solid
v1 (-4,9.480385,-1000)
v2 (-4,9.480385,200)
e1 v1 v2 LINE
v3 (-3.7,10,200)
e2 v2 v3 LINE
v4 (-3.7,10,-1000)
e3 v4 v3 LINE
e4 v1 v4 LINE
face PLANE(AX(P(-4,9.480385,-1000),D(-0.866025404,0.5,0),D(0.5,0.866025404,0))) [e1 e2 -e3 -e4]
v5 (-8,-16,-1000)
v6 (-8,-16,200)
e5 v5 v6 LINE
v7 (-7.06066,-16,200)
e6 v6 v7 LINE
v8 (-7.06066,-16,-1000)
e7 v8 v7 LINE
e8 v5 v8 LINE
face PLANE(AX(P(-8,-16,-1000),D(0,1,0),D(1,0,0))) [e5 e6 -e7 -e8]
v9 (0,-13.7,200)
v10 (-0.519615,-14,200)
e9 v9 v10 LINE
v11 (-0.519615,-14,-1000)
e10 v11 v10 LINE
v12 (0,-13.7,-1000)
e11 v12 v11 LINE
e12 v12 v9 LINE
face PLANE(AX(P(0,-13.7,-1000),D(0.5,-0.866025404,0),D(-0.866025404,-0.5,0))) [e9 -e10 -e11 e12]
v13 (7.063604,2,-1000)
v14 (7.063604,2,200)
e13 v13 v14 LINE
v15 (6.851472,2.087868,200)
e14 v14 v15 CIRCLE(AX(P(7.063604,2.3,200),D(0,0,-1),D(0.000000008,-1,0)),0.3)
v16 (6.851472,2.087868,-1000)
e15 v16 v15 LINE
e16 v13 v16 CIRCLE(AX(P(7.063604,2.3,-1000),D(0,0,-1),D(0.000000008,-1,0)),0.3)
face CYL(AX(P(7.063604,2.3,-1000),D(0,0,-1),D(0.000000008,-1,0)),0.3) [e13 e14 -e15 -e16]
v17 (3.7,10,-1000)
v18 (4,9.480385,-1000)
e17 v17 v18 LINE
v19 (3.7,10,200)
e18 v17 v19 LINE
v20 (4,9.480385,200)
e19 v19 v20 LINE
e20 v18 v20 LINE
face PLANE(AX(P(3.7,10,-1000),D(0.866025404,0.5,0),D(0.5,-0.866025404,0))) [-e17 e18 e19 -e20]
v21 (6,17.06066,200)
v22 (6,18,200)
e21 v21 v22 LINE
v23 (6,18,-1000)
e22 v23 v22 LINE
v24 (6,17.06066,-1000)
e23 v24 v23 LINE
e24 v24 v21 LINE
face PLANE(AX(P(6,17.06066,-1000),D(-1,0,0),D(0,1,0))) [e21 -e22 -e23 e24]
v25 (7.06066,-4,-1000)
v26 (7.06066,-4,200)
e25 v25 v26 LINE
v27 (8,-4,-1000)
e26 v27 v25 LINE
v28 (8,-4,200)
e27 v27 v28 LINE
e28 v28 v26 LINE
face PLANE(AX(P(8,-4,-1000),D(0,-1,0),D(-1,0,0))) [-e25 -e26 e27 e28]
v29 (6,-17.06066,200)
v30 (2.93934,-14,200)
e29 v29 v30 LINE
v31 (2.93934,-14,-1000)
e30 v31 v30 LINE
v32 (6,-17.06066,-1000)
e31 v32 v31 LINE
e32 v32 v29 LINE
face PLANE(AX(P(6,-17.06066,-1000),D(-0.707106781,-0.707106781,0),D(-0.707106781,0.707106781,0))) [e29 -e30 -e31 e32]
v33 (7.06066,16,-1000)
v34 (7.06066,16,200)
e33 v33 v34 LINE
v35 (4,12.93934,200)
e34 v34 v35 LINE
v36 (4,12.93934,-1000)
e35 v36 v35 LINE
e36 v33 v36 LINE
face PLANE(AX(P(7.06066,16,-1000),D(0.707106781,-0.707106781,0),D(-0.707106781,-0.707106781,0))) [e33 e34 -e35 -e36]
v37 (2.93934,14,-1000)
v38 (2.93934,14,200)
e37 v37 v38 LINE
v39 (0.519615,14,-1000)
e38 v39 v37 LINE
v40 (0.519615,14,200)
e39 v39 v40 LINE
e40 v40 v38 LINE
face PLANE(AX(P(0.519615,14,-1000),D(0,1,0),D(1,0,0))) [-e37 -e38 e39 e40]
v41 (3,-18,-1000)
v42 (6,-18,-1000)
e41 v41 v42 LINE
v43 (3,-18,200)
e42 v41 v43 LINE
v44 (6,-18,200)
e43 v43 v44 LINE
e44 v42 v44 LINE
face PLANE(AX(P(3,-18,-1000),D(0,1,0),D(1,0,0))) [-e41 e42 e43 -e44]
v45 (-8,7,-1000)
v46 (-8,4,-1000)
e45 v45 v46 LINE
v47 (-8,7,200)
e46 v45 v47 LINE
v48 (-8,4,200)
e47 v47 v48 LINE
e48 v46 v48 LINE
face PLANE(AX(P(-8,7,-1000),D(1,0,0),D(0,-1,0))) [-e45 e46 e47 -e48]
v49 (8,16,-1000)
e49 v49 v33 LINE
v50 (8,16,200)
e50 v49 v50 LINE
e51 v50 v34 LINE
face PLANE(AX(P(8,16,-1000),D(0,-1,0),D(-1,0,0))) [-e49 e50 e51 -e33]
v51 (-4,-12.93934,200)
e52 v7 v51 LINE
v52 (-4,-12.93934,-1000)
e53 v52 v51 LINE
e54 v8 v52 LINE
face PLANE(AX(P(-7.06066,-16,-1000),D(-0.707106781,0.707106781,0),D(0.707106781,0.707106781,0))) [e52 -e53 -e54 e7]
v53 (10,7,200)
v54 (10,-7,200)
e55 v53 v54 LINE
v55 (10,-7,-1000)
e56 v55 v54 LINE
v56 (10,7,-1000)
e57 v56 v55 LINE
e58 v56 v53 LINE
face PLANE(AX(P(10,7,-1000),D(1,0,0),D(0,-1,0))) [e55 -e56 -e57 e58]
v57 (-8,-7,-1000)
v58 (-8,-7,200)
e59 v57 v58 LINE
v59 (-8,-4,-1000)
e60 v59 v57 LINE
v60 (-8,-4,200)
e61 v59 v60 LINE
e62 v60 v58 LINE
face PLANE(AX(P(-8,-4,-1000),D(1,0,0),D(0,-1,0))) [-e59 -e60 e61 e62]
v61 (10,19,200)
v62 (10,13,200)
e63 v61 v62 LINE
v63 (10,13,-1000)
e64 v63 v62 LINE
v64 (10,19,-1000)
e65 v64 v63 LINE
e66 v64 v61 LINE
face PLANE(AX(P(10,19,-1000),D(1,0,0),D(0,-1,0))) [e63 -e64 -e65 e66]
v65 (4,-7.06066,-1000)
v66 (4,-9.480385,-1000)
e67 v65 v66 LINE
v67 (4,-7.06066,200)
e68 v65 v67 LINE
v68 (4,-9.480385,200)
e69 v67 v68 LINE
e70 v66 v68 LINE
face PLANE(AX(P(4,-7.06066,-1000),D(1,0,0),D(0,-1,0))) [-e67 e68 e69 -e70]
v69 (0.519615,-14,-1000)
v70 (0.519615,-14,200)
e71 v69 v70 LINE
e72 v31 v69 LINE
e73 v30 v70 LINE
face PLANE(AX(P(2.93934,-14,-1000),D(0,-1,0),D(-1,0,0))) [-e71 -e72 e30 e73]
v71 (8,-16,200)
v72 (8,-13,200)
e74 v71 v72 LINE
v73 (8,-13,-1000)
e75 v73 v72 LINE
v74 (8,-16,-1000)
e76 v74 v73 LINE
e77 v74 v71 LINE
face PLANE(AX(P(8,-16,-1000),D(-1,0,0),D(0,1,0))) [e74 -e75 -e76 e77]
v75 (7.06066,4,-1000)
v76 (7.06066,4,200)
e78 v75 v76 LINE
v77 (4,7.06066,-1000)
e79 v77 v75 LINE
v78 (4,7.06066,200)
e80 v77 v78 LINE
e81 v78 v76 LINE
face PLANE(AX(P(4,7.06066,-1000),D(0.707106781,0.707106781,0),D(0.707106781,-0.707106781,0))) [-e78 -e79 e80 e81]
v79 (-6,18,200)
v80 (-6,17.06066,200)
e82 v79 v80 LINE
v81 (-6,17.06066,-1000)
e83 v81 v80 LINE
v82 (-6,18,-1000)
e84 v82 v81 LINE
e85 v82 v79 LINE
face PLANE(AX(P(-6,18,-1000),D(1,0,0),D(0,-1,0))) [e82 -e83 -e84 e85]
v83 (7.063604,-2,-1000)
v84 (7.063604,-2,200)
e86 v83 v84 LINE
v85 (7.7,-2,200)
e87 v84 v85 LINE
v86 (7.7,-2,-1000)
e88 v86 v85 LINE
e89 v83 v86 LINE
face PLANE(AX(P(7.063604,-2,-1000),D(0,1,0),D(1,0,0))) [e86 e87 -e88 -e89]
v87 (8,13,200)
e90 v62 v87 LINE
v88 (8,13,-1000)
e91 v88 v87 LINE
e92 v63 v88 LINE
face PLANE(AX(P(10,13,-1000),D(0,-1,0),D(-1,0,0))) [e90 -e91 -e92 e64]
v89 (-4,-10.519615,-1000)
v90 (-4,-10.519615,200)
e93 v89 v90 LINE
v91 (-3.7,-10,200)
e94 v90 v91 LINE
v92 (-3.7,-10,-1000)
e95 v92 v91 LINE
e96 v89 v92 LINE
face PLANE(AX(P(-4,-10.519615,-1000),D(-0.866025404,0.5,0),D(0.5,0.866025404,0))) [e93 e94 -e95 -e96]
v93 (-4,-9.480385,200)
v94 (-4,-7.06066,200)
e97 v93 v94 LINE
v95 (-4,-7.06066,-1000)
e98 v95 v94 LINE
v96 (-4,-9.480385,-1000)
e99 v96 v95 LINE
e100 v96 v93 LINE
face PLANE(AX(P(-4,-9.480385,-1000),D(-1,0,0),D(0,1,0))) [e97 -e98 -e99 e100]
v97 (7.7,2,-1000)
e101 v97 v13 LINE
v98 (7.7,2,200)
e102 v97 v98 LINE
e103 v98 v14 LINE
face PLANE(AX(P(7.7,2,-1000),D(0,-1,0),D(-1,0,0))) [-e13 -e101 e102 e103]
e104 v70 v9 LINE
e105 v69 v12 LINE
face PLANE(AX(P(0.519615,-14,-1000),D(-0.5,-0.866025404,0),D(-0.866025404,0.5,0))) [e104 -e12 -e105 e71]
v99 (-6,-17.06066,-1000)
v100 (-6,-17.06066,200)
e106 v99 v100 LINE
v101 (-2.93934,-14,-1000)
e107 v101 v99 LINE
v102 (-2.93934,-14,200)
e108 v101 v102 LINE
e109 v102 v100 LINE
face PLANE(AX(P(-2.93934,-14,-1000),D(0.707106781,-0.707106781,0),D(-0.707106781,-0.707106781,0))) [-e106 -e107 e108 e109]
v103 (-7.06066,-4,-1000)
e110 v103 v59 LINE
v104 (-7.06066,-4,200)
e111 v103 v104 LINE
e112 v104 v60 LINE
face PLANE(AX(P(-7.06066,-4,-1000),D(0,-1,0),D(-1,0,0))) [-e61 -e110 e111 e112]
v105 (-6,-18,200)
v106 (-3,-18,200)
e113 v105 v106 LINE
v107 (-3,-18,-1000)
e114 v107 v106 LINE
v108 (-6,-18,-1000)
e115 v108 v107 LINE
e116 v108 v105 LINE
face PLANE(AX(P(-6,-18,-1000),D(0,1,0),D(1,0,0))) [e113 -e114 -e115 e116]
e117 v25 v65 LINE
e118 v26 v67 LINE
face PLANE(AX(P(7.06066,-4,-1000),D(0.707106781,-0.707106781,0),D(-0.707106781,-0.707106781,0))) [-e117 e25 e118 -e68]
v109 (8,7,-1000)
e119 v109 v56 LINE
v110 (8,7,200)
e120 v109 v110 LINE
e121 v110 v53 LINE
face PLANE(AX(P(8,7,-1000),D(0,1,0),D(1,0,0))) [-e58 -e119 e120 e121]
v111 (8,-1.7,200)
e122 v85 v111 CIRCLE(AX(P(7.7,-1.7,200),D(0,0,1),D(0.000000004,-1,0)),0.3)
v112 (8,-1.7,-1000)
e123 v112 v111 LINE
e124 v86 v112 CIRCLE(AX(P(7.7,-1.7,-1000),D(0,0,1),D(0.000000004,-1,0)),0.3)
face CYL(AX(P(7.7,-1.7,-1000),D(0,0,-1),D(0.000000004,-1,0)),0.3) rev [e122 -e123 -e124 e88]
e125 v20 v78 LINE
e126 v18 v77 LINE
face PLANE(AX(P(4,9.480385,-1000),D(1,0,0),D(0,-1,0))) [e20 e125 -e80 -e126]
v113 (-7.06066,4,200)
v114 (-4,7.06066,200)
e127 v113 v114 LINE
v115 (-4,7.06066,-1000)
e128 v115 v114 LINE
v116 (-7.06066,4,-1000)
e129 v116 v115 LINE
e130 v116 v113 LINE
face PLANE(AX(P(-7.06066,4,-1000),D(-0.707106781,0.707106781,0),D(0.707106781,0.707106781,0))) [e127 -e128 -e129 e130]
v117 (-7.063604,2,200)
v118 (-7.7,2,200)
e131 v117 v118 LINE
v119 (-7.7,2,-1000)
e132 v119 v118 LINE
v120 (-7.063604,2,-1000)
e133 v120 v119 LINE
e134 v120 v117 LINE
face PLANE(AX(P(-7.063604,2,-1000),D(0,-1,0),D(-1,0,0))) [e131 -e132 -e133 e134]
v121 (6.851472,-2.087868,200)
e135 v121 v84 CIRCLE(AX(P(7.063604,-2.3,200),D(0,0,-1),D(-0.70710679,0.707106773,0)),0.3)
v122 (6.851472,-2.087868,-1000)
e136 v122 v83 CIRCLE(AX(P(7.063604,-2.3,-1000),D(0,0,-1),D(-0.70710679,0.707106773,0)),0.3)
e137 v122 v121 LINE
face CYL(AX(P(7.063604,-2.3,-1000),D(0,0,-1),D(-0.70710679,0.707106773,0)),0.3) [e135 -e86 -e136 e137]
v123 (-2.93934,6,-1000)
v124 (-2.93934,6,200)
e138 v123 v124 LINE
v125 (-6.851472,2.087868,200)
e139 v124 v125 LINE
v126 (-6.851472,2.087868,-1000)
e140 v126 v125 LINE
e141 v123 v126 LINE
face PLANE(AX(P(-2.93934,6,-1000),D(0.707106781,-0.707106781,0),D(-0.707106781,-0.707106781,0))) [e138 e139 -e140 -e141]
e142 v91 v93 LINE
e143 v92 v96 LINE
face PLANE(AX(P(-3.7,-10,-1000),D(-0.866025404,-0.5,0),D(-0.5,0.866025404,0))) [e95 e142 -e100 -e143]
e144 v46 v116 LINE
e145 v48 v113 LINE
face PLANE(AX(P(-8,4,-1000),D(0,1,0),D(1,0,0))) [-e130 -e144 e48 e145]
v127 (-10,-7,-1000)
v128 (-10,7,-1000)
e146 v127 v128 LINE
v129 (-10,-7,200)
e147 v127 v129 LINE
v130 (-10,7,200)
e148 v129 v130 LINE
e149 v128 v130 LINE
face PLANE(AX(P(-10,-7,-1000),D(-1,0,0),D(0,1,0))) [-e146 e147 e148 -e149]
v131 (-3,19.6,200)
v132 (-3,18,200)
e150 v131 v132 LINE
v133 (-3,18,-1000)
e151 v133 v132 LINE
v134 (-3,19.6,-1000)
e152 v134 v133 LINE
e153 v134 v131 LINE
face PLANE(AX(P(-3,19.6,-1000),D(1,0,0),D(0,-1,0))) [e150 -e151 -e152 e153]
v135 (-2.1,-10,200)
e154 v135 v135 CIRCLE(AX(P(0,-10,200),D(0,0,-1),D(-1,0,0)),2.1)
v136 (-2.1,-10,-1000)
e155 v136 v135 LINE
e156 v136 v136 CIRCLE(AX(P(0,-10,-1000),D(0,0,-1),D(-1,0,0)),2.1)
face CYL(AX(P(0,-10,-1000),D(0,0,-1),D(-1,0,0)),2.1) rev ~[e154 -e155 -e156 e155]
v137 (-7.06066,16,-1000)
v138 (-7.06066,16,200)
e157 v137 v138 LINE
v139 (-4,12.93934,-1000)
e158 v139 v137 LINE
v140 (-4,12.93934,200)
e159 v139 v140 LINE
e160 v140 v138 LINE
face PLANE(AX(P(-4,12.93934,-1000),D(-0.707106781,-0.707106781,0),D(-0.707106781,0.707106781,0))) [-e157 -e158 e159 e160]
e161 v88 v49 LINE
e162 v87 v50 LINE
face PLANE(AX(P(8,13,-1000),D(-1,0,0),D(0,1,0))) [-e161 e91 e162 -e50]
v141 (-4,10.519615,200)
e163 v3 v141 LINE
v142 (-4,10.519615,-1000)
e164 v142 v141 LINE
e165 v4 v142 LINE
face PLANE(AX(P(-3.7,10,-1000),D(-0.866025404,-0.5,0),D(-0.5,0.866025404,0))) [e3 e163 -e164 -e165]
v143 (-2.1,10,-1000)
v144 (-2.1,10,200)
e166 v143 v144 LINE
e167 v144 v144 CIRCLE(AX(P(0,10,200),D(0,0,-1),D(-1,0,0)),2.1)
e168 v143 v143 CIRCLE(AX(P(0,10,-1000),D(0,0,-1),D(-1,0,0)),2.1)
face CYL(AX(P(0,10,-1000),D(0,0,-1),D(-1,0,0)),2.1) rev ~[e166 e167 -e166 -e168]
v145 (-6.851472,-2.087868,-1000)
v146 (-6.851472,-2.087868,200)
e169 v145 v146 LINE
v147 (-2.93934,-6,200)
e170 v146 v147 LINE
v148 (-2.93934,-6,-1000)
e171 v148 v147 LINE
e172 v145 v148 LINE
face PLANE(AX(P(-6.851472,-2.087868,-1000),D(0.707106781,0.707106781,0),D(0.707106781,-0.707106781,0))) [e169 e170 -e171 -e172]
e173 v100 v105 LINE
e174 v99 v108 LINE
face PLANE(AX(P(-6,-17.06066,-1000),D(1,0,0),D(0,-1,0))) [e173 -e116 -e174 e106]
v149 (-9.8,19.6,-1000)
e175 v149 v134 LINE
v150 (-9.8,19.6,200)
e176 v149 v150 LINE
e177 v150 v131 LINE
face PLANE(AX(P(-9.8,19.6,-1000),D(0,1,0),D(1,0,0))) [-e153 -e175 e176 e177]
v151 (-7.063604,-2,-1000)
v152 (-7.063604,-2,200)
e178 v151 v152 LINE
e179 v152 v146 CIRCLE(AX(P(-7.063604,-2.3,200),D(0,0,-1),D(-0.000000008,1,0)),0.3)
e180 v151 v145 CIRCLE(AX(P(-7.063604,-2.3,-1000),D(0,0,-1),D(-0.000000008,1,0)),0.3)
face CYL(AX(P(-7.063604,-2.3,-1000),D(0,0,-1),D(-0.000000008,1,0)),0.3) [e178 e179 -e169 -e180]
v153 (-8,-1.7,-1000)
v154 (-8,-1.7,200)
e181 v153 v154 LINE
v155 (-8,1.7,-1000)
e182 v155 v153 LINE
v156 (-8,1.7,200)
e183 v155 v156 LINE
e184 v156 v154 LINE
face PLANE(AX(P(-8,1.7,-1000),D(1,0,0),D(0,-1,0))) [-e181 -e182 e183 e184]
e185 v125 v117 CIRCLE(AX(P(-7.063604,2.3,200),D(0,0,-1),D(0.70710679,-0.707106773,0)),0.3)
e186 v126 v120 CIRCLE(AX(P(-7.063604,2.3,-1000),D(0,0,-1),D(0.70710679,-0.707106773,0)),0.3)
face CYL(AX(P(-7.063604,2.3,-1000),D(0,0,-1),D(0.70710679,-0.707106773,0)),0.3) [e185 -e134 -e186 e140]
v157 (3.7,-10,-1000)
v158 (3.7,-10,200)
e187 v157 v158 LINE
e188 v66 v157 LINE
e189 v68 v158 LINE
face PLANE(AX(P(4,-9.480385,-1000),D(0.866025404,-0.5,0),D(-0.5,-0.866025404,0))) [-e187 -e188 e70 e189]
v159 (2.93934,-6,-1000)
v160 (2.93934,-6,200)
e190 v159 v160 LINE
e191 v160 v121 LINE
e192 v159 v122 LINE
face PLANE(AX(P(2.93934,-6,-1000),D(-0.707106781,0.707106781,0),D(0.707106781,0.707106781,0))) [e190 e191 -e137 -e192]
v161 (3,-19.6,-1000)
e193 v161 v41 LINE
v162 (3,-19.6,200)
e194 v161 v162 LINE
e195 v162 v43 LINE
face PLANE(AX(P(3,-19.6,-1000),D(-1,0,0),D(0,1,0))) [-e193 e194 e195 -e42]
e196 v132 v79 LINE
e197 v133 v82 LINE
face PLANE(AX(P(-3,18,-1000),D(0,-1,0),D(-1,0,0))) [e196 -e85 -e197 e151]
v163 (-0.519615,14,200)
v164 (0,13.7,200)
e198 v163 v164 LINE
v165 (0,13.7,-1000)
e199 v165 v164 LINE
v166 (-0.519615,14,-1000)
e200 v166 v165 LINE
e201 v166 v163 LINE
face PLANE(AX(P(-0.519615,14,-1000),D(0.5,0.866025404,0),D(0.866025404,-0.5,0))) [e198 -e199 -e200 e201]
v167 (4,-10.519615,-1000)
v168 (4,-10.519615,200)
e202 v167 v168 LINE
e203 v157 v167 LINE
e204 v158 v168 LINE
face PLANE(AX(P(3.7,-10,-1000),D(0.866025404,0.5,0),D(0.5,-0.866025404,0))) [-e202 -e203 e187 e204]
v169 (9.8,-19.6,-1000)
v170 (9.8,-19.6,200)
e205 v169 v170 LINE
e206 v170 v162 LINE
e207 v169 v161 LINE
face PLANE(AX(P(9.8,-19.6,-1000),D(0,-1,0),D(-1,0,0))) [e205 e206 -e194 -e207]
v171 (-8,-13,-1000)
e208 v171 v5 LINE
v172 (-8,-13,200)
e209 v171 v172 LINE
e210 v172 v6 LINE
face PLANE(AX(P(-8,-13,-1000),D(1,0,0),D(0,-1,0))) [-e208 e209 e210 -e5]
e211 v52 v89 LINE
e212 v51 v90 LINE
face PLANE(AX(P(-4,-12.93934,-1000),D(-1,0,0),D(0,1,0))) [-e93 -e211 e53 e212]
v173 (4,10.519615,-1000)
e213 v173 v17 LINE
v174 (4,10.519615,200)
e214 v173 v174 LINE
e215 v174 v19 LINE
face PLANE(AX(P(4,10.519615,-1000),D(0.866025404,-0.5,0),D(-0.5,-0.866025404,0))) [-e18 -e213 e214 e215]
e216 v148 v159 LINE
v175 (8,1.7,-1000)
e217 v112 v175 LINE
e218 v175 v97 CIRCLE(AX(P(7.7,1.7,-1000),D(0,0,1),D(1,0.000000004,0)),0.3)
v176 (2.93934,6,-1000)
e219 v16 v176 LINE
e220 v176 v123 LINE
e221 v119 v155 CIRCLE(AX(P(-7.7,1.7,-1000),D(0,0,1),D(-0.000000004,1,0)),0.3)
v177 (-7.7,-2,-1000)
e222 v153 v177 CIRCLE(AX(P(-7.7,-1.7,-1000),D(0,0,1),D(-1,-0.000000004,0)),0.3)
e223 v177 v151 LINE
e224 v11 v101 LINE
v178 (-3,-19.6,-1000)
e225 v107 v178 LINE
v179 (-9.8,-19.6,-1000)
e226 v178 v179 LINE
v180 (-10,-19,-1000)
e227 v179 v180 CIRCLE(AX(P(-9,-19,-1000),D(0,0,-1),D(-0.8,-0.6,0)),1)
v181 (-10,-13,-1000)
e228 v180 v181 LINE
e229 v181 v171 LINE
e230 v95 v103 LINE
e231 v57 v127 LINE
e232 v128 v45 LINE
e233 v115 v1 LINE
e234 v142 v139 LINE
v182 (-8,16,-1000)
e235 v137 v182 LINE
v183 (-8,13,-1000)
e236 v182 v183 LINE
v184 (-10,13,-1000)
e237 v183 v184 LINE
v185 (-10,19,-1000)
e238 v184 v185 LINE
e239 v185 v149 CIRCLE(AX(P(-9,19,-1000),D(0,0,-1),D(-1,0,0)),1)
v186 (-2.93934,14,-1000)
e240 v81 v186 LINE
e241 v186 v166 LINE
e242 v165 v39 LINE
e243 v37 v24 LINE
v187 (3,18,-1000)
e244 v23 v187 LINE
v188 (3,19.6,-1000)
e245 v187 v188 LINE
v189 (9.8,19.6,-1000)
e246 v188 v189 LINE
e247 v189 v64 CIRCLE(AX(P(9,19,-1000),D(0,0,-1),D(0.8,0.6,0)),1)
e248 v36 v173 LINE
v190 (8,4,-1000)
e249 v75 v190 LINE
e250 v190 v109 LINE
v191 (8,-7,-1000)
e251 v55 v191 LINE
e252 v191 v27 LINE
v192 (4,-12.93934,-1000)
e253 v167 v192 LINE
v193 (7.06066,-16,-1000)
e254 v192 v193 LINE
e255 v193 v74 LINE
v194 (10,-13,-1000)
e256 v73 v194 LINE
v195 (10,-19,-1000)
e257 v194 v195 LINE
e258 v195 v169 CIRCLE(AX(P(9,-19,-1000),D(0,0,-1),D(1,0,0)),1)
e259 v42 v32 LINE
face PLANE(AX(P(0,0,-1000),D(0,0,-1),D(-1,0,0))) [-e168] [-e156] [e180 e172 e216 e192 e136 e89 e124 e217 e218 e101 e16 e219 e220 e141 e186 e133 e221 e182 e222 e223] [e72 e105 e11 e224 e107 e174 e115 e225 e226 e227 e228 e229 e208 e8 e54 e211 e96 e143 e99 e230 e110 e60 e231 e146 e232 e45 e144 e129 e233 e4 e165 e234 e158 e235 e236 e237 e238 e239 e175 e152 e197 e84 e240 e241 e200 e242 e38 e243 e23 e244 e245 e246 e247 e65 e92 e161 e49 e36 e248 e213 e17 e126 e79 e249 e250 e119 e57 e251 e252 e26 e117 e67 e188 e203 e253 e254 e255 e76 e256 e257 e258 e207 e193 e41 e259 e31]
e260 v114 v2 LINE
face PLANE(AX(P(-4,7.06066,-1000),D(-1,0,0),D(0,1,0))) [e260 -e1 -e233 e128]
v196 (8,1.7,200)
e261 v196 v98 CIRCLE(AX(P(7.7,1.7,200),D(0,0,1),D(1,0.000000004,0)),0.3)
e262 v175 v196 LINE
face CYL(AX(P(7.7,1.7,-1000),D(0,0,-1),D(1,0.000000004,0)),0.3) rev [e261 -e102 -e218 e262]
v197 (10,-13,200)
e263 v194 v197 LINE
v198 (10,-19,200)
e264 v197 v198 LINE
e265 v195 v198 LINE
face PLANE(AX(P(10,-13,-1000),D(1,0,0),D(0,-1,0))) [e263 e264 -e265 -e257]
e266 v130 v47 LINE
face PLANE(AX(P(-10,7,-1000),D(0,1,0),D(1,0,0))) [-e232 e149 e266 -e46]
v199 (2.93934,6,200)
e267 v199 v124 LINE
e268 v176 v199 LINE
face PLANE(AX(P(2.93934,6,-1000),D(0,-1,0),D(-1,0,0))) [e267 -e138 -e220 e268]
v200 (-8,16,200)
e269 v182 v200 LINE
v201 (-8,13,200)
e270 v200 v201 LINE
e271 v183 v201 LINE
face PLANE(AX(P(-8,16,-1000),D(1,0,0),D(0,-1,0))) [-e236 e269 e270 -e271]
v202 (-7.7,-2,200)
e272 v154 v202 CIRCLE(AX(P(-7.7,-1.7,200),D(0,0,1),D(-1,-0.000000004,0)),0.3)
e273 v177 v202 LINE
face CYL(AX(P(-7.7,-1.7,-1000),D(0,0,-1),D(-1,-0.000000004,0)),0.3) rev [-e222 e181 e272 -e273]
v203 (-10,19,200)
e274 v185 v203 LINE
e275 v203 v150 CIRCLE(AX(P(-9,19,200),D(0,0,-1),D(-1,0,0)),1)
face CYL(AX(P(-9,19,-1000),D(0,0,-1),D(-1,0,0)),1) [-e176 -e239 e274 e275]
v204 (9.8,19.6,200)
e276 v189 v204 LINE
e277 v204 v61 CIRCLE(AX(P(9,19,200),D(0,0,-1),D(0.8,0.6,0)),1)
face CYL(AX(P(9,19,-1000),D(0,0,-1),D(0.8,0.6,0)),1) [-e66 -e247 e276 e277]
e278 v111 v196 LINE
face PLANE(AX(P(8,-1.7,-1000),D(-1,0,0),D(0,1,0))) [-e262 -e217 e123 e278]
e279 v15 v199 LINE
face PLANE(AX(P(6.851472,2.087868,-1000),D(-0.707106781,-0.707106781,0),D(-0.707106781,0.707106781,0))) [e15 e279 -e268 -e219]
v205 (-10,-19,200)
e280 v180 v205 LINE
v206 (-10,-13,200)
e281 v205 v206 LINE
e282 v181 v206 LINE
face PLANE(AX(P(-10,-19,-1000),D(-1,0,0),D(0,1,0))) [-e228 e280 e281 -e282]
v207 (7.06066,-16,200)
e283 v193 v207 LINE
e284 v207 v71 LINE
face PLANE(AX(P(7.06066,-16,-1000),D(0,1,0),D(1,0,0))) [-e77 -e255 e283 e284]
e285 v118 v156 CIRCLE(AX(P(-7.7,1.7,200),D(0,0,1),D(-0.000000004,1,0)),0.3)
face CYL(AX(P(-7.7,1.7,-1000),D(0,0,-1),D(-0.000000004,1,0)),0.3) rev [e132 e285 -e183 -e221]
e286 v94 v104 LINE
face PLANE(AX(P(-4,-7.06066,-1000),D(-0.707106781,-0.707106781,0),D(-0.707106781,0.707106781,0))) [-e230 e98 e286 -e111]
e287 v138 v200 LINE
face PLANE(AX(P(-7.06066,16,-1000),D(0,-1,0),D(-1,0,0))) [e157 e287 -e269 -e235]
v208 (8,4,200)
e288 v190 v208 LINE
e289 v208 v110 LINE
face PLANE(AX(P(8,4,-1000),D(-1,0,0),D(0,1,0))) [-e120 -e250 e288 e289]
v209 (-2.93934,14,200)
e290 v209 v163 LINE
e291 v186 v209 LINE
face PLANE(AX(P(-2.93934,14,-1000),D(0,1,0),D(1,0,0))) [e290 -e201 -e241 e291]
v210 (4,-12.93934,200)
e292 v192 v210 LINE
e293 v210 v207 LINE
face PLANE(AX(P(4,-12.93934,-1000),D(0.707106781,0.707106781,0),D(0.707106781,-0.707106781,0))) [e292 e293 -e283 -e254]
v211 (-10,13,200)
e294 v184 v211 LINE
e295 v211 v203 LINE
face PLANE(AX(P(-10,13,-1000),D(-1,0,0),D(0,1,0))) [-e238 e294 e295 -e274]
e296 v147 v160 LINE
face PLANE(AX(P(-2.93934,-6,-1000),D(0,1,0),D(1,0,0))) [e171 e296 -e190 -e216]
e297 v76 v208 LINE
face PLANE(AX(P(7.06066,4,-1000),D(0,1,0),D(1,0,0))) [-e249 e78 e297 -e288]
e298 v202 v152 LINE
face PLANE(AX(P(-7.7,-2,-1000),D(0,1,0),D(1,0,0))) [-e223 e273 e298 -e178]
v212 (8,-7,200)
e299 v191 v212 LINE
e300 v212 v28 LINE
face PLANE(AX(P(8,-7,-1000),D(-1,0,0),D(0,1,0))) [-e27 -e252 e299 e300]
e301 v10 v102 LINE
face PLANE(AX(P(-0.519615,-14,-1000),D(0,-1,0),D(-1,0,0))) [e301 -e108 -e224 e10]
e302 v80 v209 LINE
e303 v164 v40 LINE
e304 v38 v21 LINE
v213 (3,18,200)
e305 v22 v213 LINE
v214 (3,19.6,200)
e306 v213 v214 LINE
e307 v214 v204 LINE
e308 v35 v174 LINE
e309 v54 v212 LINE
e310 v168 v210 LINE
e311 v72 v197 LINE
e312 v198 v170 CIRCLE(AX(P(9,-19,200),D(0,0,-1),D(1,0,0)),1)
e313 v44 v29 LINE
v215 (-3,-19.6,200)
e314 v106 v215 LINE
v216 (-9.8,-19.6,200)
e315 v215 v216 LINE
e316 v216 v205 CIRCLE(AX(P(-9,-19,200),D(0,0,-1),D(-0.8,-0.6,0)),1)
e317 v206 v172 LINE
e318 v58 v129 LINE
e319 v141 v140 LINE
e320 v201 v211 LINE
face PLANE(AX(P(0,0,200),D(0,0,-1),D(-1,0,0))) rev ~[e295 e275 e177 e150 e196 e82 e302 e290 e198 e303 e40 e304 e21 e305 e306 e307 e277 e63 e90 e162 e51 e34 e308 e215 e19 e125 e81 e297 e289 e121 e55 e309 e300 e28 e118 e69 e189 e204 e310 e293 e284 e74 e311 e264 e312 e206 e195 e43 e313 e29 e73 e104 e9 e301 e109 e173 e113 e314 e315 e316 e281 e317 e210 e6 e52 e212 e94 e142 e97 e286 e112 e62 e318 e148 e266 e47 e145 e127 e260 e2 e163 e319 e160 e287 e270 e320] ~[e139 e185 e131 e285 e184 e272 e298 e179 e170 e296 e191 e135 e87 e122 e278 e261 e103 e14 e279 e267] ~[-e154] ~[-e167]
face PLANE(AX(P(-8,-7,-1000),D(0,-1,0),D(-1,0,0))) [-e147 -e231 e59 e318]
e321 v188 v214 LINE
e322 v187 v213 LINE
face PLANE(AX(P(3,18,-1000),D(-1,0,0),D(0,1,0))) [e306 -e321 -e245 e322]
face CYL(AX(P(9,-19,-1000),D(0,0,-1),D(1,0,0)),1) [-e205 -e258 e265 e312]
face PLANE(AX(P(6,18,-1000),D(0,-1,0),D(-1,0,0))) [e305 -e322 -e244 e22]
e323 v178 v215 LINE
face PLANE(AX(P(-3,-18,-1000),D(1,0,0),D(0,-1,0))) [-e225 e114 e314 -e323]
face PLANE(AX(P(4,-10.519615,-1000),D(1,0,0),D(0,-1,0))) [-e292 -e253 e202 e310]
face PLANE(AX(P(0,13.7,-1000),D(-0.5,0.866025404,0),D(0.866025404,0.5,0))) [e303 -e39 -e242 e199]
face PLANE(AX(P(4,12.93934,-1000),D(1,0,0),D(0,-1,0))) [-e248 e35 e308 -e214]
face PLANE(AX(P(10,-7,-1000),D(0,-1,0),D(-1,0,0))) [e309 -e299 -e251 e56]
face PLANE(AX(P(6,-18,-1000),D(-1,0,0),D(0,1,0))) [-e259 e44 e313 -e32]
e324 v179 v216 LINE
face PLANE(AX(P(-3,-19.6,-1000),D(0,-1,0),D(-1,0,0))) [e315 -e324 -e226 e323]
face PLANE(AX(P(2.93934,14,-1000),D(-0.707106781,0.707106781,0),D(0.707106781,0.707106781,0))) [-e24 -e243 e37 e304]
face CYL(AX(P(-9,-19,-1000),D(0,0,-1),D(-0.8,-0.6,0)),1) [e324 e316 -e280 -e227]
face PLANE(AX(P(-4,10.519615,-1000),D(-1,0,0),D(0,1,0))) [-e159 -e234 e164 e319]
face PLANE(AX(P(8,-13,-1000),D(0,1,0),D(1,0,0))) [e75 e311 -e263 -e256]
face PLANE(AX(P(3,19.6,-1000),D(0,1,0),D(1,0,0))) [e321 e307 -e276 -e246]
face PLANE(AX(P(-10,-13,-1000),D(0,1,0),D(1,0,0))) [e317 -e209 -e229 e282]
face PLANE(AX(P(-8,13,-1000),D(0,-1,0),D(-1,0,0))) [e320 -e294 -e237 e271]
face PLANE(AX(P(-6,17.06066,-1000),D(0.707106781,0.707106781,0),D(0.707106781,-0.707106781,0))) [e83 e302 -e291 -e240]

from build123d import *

# Parameters (mm, degrees)
SKETCH1_R           = 2.1
BOSS_EXTRUDE1_DEPTH = 1200


with BuildPart() as part:
    # Sketch1 → Boss-Extrude1 (new body)
    with BuildSketch(Plane(origin=(0, 0, -1000), x_dir=(-1, 0, 0), z_dir=(0, 0, -1))):
        with BuildLine():
            Line((10, -7), (10, 7))
            Line((10, 7), (8, 7))
            Line((8, 7), (8, 4))
            Line((8, 4), (7.060660172, 4))
            Line((7.060660172, 4), (4, 7.060660172))
            Line((4, 7.060660172), (4, 9.480384758))
            Line((4, 9.480384758), (3.7, 10))
            Line((3.7, 10), (4, 10.519615242))
            Line((4, 10.519615242), (4, 12.939339828))
            Line((4, 12.939339828), (7.060660172, 16))
            Line((7.060660172, 16), (8, 16))
            Line((8, 16), (8, 13))
            Line((8, 13), (10, 13))
            Line((10, 13), (10, 19))
            ThreePointArc((10, 19), (9.948683298, 19.316227766), (9.8, 19.6))
            Line((9.8, 19.6), (3, 19.6))
            Line((3, 19.6), (3, 18))
            Line((3, 18), (6, 18))
            Line((6, 18), (6, 17.060660172))
            Line((6, 17.060660172), (2.939339828, 14))
            Line((2.939339828, 14), (0.519615242, 14))
            Line((0.519615242, 14), (0, 13.7))
            Line((0, 13.7), (-0.519615242, 14))
            Line((-0.519615242, 14), (-2.939339828, 14))
            Line((-2.939339828, 14), (-6, 17.060660172))
            Line((-6, 17.060660172), (-6, 18))
            Line((-6, 18), (-3, 18))
            Line((-3, 18), (-3, 19.6))
            Line((-3, 19.6), (-9.8, 19.6))
            ThreePointArc((-9.8, 19.6), (-9.948683298, 19.316227766), (-10, 19))
            Line((-10, 19), (-10, 13))
            Line((-10, 13), (-8, 13))
            Line((-8, 13), (-8, 16))
            Line((-8, 16), (-7.060660172, 16))
            Line((-7.060660172, 16), (-4, 12.939339828))
            Line((-4, 12.939339828), (-4, 10.519615242))
            Line((-4, 10.519615242), (-3.7, 10))
            Line((-3.7, 10), (-4, 9.480384758))
            Line((-4, 9.480384758), (-4, 7.060660172))
            Line((-4, 7.060660172), (-7.060660172, 4))
            Line((-7.060660172, 4), (-8, 4))
            Line((-8, 4), (-8, 7))
            Line((-8, 7), (-10, 7))
            Line((-10, 7), (-10, -7))
            Line((-10, -7), (-8, -7))
            Line((-8, -7), (-8, -4))
            Line((-8, -4), (-7.060660172, -4))
            Line((-7.060660172, -4), (-4, -7.060660172))
            Line((-4, -7.060660172), (-4, -9.480384758))
            Line((-4, -9.480384758), (-3.7, -10))
            Line((-3.7, -10), (-4, -10.519615242))
            Line((-4, -10.519615242), (-4, -12.939339828))
            Line((-4, -12.939339828), (-7.060660172, -16))
            Line((-7.060660172, -16), (-8, -16))
            Line((-8, -16), (-8, -13))
            Line((-8, -13), (-10, -13))
            Line((-10, -13), (-10, -19))
            ThreePointArc((-10, -19), (-9.948683298, -19.316227766), (-9.8, -19.6))
            Line((-9.8, -19.6), (-3, -19.6))
            Line((-3, -19.6), (-3, -18))
            Line((-3, -18), (-6, -18))
            Line((-6, -18), (-6, -17.060660172))
            Line((-6, -17.060660172), (-2.939339828, -14))
            Line((-2.939339828, -14), (-0.519615242, -14))
            Line((-0.519615242, -14), (0, -13.7))
            Line((0, -13.7), (0.519615242, -14))
            Line((0.519615242, -14), (2.939339828, -14))
            Line((2.939339828, -14), (6, -17.060660172))
            Line((6, -17.060660172), (6, -18))
            Line((6, -18), (3, -18))
            Line((3, -18), (3, -19.6))
            Line((3, -19.6), (9.8, -19.6))
            ThreePointArc((9.8, -19.6), (9.948683298, -19.316227766), (10, -19))
            Line((10, -19), (10, -13))
            Line((10, -13), (8, -13))
            Line((8, -13), (8, -16))
            Line((8, -16), (7.060660172, -16))
            Line((7.060660172, -16), (4, -12.939339828))
            Line((4, -12.939339828), (4, -10.519615242))
            Line((4, -10.519615242), (3.7, -10))
            Line((3.7, -10), (4, -9.480384758))
            Line((4, -9.480384758), (4, -7.060660172))
            Line((4, -7.060660172), (7.060660172, -4))
            Line((7.060660172, -4), (8, -4))
            Line((8, -4), (8, -7))
            Line((8, -7), (10, -7))
        make_face()
        with Locations((0, -10)):
            Circle(SKETCH1_R, mode=Mode.SUBTRACT)
        with Locations((0, 10)):
            Circle(SKETCH1_R, mode=Mode.SUBTRACT)
        with BuildLine():
            Line((8, 1.7), (8, -1.7))
            ThreePointArc((8, -1.7), (7.912132034, -1.912132034), (7.7, -2))
            Line((7.7, -2), (7.063603897, -2))
            ThreePointArc((7.063603897, -2), (6.948798867, -2.02283614), (6.851471863, -2.087867966))
            Line((6.851471863, -2.087867966), (2.939339828, -6))
            Line((2.939339828, -6), (-2.939339828, -6))
            Line((-2.939339828, -6), (-6.851471863, -2.087867966))
            ThreePointArc((-6.851471863, -2.087867966), (-6.948798867, -2.02283614), (-7.063603897, -2))
            Line((-7.063603897, -2), (-7.7, -2))
            ThreePointArc((-7.7, -2), (-7.912132034, -1.912132034), (-8, -1.7))
            Line((-8, -1.7), (-8, 1.7))
            ThreePointArc((-8, 1.7), (-7.912132034, 1.912132034), (-7.7, 2))
            Line((-7.7, 2), (-7.063603897, 2))
            ThreePointArc((-7.063603897, 2), (-6.948798867, 2.02283614), (-6.851471863, 2.087867966))
            Line((-6.851471863, 2.087867966), (-2.939339828, 6))
            Line((-2.939339828, 6), (2.939339828, 6))
            Line((2.939339828, 6), (6.851471863, 2.087867966))
            ThreePointArc((6.851471863, 2.087867966), (6.948798867, 2.02283614), (7.063603897, 2))
            Line((7.063603897, 2), (7.7, 2))
            ThreePointArc((7.7, 2), (7.912132034, 1.912132034), (8, 1.7))
        make_face(mode=Mode.SUBTRACT)
    extrude(amount=-BOSS_EXTRUDE1_DEPTH)


solid = part.part
